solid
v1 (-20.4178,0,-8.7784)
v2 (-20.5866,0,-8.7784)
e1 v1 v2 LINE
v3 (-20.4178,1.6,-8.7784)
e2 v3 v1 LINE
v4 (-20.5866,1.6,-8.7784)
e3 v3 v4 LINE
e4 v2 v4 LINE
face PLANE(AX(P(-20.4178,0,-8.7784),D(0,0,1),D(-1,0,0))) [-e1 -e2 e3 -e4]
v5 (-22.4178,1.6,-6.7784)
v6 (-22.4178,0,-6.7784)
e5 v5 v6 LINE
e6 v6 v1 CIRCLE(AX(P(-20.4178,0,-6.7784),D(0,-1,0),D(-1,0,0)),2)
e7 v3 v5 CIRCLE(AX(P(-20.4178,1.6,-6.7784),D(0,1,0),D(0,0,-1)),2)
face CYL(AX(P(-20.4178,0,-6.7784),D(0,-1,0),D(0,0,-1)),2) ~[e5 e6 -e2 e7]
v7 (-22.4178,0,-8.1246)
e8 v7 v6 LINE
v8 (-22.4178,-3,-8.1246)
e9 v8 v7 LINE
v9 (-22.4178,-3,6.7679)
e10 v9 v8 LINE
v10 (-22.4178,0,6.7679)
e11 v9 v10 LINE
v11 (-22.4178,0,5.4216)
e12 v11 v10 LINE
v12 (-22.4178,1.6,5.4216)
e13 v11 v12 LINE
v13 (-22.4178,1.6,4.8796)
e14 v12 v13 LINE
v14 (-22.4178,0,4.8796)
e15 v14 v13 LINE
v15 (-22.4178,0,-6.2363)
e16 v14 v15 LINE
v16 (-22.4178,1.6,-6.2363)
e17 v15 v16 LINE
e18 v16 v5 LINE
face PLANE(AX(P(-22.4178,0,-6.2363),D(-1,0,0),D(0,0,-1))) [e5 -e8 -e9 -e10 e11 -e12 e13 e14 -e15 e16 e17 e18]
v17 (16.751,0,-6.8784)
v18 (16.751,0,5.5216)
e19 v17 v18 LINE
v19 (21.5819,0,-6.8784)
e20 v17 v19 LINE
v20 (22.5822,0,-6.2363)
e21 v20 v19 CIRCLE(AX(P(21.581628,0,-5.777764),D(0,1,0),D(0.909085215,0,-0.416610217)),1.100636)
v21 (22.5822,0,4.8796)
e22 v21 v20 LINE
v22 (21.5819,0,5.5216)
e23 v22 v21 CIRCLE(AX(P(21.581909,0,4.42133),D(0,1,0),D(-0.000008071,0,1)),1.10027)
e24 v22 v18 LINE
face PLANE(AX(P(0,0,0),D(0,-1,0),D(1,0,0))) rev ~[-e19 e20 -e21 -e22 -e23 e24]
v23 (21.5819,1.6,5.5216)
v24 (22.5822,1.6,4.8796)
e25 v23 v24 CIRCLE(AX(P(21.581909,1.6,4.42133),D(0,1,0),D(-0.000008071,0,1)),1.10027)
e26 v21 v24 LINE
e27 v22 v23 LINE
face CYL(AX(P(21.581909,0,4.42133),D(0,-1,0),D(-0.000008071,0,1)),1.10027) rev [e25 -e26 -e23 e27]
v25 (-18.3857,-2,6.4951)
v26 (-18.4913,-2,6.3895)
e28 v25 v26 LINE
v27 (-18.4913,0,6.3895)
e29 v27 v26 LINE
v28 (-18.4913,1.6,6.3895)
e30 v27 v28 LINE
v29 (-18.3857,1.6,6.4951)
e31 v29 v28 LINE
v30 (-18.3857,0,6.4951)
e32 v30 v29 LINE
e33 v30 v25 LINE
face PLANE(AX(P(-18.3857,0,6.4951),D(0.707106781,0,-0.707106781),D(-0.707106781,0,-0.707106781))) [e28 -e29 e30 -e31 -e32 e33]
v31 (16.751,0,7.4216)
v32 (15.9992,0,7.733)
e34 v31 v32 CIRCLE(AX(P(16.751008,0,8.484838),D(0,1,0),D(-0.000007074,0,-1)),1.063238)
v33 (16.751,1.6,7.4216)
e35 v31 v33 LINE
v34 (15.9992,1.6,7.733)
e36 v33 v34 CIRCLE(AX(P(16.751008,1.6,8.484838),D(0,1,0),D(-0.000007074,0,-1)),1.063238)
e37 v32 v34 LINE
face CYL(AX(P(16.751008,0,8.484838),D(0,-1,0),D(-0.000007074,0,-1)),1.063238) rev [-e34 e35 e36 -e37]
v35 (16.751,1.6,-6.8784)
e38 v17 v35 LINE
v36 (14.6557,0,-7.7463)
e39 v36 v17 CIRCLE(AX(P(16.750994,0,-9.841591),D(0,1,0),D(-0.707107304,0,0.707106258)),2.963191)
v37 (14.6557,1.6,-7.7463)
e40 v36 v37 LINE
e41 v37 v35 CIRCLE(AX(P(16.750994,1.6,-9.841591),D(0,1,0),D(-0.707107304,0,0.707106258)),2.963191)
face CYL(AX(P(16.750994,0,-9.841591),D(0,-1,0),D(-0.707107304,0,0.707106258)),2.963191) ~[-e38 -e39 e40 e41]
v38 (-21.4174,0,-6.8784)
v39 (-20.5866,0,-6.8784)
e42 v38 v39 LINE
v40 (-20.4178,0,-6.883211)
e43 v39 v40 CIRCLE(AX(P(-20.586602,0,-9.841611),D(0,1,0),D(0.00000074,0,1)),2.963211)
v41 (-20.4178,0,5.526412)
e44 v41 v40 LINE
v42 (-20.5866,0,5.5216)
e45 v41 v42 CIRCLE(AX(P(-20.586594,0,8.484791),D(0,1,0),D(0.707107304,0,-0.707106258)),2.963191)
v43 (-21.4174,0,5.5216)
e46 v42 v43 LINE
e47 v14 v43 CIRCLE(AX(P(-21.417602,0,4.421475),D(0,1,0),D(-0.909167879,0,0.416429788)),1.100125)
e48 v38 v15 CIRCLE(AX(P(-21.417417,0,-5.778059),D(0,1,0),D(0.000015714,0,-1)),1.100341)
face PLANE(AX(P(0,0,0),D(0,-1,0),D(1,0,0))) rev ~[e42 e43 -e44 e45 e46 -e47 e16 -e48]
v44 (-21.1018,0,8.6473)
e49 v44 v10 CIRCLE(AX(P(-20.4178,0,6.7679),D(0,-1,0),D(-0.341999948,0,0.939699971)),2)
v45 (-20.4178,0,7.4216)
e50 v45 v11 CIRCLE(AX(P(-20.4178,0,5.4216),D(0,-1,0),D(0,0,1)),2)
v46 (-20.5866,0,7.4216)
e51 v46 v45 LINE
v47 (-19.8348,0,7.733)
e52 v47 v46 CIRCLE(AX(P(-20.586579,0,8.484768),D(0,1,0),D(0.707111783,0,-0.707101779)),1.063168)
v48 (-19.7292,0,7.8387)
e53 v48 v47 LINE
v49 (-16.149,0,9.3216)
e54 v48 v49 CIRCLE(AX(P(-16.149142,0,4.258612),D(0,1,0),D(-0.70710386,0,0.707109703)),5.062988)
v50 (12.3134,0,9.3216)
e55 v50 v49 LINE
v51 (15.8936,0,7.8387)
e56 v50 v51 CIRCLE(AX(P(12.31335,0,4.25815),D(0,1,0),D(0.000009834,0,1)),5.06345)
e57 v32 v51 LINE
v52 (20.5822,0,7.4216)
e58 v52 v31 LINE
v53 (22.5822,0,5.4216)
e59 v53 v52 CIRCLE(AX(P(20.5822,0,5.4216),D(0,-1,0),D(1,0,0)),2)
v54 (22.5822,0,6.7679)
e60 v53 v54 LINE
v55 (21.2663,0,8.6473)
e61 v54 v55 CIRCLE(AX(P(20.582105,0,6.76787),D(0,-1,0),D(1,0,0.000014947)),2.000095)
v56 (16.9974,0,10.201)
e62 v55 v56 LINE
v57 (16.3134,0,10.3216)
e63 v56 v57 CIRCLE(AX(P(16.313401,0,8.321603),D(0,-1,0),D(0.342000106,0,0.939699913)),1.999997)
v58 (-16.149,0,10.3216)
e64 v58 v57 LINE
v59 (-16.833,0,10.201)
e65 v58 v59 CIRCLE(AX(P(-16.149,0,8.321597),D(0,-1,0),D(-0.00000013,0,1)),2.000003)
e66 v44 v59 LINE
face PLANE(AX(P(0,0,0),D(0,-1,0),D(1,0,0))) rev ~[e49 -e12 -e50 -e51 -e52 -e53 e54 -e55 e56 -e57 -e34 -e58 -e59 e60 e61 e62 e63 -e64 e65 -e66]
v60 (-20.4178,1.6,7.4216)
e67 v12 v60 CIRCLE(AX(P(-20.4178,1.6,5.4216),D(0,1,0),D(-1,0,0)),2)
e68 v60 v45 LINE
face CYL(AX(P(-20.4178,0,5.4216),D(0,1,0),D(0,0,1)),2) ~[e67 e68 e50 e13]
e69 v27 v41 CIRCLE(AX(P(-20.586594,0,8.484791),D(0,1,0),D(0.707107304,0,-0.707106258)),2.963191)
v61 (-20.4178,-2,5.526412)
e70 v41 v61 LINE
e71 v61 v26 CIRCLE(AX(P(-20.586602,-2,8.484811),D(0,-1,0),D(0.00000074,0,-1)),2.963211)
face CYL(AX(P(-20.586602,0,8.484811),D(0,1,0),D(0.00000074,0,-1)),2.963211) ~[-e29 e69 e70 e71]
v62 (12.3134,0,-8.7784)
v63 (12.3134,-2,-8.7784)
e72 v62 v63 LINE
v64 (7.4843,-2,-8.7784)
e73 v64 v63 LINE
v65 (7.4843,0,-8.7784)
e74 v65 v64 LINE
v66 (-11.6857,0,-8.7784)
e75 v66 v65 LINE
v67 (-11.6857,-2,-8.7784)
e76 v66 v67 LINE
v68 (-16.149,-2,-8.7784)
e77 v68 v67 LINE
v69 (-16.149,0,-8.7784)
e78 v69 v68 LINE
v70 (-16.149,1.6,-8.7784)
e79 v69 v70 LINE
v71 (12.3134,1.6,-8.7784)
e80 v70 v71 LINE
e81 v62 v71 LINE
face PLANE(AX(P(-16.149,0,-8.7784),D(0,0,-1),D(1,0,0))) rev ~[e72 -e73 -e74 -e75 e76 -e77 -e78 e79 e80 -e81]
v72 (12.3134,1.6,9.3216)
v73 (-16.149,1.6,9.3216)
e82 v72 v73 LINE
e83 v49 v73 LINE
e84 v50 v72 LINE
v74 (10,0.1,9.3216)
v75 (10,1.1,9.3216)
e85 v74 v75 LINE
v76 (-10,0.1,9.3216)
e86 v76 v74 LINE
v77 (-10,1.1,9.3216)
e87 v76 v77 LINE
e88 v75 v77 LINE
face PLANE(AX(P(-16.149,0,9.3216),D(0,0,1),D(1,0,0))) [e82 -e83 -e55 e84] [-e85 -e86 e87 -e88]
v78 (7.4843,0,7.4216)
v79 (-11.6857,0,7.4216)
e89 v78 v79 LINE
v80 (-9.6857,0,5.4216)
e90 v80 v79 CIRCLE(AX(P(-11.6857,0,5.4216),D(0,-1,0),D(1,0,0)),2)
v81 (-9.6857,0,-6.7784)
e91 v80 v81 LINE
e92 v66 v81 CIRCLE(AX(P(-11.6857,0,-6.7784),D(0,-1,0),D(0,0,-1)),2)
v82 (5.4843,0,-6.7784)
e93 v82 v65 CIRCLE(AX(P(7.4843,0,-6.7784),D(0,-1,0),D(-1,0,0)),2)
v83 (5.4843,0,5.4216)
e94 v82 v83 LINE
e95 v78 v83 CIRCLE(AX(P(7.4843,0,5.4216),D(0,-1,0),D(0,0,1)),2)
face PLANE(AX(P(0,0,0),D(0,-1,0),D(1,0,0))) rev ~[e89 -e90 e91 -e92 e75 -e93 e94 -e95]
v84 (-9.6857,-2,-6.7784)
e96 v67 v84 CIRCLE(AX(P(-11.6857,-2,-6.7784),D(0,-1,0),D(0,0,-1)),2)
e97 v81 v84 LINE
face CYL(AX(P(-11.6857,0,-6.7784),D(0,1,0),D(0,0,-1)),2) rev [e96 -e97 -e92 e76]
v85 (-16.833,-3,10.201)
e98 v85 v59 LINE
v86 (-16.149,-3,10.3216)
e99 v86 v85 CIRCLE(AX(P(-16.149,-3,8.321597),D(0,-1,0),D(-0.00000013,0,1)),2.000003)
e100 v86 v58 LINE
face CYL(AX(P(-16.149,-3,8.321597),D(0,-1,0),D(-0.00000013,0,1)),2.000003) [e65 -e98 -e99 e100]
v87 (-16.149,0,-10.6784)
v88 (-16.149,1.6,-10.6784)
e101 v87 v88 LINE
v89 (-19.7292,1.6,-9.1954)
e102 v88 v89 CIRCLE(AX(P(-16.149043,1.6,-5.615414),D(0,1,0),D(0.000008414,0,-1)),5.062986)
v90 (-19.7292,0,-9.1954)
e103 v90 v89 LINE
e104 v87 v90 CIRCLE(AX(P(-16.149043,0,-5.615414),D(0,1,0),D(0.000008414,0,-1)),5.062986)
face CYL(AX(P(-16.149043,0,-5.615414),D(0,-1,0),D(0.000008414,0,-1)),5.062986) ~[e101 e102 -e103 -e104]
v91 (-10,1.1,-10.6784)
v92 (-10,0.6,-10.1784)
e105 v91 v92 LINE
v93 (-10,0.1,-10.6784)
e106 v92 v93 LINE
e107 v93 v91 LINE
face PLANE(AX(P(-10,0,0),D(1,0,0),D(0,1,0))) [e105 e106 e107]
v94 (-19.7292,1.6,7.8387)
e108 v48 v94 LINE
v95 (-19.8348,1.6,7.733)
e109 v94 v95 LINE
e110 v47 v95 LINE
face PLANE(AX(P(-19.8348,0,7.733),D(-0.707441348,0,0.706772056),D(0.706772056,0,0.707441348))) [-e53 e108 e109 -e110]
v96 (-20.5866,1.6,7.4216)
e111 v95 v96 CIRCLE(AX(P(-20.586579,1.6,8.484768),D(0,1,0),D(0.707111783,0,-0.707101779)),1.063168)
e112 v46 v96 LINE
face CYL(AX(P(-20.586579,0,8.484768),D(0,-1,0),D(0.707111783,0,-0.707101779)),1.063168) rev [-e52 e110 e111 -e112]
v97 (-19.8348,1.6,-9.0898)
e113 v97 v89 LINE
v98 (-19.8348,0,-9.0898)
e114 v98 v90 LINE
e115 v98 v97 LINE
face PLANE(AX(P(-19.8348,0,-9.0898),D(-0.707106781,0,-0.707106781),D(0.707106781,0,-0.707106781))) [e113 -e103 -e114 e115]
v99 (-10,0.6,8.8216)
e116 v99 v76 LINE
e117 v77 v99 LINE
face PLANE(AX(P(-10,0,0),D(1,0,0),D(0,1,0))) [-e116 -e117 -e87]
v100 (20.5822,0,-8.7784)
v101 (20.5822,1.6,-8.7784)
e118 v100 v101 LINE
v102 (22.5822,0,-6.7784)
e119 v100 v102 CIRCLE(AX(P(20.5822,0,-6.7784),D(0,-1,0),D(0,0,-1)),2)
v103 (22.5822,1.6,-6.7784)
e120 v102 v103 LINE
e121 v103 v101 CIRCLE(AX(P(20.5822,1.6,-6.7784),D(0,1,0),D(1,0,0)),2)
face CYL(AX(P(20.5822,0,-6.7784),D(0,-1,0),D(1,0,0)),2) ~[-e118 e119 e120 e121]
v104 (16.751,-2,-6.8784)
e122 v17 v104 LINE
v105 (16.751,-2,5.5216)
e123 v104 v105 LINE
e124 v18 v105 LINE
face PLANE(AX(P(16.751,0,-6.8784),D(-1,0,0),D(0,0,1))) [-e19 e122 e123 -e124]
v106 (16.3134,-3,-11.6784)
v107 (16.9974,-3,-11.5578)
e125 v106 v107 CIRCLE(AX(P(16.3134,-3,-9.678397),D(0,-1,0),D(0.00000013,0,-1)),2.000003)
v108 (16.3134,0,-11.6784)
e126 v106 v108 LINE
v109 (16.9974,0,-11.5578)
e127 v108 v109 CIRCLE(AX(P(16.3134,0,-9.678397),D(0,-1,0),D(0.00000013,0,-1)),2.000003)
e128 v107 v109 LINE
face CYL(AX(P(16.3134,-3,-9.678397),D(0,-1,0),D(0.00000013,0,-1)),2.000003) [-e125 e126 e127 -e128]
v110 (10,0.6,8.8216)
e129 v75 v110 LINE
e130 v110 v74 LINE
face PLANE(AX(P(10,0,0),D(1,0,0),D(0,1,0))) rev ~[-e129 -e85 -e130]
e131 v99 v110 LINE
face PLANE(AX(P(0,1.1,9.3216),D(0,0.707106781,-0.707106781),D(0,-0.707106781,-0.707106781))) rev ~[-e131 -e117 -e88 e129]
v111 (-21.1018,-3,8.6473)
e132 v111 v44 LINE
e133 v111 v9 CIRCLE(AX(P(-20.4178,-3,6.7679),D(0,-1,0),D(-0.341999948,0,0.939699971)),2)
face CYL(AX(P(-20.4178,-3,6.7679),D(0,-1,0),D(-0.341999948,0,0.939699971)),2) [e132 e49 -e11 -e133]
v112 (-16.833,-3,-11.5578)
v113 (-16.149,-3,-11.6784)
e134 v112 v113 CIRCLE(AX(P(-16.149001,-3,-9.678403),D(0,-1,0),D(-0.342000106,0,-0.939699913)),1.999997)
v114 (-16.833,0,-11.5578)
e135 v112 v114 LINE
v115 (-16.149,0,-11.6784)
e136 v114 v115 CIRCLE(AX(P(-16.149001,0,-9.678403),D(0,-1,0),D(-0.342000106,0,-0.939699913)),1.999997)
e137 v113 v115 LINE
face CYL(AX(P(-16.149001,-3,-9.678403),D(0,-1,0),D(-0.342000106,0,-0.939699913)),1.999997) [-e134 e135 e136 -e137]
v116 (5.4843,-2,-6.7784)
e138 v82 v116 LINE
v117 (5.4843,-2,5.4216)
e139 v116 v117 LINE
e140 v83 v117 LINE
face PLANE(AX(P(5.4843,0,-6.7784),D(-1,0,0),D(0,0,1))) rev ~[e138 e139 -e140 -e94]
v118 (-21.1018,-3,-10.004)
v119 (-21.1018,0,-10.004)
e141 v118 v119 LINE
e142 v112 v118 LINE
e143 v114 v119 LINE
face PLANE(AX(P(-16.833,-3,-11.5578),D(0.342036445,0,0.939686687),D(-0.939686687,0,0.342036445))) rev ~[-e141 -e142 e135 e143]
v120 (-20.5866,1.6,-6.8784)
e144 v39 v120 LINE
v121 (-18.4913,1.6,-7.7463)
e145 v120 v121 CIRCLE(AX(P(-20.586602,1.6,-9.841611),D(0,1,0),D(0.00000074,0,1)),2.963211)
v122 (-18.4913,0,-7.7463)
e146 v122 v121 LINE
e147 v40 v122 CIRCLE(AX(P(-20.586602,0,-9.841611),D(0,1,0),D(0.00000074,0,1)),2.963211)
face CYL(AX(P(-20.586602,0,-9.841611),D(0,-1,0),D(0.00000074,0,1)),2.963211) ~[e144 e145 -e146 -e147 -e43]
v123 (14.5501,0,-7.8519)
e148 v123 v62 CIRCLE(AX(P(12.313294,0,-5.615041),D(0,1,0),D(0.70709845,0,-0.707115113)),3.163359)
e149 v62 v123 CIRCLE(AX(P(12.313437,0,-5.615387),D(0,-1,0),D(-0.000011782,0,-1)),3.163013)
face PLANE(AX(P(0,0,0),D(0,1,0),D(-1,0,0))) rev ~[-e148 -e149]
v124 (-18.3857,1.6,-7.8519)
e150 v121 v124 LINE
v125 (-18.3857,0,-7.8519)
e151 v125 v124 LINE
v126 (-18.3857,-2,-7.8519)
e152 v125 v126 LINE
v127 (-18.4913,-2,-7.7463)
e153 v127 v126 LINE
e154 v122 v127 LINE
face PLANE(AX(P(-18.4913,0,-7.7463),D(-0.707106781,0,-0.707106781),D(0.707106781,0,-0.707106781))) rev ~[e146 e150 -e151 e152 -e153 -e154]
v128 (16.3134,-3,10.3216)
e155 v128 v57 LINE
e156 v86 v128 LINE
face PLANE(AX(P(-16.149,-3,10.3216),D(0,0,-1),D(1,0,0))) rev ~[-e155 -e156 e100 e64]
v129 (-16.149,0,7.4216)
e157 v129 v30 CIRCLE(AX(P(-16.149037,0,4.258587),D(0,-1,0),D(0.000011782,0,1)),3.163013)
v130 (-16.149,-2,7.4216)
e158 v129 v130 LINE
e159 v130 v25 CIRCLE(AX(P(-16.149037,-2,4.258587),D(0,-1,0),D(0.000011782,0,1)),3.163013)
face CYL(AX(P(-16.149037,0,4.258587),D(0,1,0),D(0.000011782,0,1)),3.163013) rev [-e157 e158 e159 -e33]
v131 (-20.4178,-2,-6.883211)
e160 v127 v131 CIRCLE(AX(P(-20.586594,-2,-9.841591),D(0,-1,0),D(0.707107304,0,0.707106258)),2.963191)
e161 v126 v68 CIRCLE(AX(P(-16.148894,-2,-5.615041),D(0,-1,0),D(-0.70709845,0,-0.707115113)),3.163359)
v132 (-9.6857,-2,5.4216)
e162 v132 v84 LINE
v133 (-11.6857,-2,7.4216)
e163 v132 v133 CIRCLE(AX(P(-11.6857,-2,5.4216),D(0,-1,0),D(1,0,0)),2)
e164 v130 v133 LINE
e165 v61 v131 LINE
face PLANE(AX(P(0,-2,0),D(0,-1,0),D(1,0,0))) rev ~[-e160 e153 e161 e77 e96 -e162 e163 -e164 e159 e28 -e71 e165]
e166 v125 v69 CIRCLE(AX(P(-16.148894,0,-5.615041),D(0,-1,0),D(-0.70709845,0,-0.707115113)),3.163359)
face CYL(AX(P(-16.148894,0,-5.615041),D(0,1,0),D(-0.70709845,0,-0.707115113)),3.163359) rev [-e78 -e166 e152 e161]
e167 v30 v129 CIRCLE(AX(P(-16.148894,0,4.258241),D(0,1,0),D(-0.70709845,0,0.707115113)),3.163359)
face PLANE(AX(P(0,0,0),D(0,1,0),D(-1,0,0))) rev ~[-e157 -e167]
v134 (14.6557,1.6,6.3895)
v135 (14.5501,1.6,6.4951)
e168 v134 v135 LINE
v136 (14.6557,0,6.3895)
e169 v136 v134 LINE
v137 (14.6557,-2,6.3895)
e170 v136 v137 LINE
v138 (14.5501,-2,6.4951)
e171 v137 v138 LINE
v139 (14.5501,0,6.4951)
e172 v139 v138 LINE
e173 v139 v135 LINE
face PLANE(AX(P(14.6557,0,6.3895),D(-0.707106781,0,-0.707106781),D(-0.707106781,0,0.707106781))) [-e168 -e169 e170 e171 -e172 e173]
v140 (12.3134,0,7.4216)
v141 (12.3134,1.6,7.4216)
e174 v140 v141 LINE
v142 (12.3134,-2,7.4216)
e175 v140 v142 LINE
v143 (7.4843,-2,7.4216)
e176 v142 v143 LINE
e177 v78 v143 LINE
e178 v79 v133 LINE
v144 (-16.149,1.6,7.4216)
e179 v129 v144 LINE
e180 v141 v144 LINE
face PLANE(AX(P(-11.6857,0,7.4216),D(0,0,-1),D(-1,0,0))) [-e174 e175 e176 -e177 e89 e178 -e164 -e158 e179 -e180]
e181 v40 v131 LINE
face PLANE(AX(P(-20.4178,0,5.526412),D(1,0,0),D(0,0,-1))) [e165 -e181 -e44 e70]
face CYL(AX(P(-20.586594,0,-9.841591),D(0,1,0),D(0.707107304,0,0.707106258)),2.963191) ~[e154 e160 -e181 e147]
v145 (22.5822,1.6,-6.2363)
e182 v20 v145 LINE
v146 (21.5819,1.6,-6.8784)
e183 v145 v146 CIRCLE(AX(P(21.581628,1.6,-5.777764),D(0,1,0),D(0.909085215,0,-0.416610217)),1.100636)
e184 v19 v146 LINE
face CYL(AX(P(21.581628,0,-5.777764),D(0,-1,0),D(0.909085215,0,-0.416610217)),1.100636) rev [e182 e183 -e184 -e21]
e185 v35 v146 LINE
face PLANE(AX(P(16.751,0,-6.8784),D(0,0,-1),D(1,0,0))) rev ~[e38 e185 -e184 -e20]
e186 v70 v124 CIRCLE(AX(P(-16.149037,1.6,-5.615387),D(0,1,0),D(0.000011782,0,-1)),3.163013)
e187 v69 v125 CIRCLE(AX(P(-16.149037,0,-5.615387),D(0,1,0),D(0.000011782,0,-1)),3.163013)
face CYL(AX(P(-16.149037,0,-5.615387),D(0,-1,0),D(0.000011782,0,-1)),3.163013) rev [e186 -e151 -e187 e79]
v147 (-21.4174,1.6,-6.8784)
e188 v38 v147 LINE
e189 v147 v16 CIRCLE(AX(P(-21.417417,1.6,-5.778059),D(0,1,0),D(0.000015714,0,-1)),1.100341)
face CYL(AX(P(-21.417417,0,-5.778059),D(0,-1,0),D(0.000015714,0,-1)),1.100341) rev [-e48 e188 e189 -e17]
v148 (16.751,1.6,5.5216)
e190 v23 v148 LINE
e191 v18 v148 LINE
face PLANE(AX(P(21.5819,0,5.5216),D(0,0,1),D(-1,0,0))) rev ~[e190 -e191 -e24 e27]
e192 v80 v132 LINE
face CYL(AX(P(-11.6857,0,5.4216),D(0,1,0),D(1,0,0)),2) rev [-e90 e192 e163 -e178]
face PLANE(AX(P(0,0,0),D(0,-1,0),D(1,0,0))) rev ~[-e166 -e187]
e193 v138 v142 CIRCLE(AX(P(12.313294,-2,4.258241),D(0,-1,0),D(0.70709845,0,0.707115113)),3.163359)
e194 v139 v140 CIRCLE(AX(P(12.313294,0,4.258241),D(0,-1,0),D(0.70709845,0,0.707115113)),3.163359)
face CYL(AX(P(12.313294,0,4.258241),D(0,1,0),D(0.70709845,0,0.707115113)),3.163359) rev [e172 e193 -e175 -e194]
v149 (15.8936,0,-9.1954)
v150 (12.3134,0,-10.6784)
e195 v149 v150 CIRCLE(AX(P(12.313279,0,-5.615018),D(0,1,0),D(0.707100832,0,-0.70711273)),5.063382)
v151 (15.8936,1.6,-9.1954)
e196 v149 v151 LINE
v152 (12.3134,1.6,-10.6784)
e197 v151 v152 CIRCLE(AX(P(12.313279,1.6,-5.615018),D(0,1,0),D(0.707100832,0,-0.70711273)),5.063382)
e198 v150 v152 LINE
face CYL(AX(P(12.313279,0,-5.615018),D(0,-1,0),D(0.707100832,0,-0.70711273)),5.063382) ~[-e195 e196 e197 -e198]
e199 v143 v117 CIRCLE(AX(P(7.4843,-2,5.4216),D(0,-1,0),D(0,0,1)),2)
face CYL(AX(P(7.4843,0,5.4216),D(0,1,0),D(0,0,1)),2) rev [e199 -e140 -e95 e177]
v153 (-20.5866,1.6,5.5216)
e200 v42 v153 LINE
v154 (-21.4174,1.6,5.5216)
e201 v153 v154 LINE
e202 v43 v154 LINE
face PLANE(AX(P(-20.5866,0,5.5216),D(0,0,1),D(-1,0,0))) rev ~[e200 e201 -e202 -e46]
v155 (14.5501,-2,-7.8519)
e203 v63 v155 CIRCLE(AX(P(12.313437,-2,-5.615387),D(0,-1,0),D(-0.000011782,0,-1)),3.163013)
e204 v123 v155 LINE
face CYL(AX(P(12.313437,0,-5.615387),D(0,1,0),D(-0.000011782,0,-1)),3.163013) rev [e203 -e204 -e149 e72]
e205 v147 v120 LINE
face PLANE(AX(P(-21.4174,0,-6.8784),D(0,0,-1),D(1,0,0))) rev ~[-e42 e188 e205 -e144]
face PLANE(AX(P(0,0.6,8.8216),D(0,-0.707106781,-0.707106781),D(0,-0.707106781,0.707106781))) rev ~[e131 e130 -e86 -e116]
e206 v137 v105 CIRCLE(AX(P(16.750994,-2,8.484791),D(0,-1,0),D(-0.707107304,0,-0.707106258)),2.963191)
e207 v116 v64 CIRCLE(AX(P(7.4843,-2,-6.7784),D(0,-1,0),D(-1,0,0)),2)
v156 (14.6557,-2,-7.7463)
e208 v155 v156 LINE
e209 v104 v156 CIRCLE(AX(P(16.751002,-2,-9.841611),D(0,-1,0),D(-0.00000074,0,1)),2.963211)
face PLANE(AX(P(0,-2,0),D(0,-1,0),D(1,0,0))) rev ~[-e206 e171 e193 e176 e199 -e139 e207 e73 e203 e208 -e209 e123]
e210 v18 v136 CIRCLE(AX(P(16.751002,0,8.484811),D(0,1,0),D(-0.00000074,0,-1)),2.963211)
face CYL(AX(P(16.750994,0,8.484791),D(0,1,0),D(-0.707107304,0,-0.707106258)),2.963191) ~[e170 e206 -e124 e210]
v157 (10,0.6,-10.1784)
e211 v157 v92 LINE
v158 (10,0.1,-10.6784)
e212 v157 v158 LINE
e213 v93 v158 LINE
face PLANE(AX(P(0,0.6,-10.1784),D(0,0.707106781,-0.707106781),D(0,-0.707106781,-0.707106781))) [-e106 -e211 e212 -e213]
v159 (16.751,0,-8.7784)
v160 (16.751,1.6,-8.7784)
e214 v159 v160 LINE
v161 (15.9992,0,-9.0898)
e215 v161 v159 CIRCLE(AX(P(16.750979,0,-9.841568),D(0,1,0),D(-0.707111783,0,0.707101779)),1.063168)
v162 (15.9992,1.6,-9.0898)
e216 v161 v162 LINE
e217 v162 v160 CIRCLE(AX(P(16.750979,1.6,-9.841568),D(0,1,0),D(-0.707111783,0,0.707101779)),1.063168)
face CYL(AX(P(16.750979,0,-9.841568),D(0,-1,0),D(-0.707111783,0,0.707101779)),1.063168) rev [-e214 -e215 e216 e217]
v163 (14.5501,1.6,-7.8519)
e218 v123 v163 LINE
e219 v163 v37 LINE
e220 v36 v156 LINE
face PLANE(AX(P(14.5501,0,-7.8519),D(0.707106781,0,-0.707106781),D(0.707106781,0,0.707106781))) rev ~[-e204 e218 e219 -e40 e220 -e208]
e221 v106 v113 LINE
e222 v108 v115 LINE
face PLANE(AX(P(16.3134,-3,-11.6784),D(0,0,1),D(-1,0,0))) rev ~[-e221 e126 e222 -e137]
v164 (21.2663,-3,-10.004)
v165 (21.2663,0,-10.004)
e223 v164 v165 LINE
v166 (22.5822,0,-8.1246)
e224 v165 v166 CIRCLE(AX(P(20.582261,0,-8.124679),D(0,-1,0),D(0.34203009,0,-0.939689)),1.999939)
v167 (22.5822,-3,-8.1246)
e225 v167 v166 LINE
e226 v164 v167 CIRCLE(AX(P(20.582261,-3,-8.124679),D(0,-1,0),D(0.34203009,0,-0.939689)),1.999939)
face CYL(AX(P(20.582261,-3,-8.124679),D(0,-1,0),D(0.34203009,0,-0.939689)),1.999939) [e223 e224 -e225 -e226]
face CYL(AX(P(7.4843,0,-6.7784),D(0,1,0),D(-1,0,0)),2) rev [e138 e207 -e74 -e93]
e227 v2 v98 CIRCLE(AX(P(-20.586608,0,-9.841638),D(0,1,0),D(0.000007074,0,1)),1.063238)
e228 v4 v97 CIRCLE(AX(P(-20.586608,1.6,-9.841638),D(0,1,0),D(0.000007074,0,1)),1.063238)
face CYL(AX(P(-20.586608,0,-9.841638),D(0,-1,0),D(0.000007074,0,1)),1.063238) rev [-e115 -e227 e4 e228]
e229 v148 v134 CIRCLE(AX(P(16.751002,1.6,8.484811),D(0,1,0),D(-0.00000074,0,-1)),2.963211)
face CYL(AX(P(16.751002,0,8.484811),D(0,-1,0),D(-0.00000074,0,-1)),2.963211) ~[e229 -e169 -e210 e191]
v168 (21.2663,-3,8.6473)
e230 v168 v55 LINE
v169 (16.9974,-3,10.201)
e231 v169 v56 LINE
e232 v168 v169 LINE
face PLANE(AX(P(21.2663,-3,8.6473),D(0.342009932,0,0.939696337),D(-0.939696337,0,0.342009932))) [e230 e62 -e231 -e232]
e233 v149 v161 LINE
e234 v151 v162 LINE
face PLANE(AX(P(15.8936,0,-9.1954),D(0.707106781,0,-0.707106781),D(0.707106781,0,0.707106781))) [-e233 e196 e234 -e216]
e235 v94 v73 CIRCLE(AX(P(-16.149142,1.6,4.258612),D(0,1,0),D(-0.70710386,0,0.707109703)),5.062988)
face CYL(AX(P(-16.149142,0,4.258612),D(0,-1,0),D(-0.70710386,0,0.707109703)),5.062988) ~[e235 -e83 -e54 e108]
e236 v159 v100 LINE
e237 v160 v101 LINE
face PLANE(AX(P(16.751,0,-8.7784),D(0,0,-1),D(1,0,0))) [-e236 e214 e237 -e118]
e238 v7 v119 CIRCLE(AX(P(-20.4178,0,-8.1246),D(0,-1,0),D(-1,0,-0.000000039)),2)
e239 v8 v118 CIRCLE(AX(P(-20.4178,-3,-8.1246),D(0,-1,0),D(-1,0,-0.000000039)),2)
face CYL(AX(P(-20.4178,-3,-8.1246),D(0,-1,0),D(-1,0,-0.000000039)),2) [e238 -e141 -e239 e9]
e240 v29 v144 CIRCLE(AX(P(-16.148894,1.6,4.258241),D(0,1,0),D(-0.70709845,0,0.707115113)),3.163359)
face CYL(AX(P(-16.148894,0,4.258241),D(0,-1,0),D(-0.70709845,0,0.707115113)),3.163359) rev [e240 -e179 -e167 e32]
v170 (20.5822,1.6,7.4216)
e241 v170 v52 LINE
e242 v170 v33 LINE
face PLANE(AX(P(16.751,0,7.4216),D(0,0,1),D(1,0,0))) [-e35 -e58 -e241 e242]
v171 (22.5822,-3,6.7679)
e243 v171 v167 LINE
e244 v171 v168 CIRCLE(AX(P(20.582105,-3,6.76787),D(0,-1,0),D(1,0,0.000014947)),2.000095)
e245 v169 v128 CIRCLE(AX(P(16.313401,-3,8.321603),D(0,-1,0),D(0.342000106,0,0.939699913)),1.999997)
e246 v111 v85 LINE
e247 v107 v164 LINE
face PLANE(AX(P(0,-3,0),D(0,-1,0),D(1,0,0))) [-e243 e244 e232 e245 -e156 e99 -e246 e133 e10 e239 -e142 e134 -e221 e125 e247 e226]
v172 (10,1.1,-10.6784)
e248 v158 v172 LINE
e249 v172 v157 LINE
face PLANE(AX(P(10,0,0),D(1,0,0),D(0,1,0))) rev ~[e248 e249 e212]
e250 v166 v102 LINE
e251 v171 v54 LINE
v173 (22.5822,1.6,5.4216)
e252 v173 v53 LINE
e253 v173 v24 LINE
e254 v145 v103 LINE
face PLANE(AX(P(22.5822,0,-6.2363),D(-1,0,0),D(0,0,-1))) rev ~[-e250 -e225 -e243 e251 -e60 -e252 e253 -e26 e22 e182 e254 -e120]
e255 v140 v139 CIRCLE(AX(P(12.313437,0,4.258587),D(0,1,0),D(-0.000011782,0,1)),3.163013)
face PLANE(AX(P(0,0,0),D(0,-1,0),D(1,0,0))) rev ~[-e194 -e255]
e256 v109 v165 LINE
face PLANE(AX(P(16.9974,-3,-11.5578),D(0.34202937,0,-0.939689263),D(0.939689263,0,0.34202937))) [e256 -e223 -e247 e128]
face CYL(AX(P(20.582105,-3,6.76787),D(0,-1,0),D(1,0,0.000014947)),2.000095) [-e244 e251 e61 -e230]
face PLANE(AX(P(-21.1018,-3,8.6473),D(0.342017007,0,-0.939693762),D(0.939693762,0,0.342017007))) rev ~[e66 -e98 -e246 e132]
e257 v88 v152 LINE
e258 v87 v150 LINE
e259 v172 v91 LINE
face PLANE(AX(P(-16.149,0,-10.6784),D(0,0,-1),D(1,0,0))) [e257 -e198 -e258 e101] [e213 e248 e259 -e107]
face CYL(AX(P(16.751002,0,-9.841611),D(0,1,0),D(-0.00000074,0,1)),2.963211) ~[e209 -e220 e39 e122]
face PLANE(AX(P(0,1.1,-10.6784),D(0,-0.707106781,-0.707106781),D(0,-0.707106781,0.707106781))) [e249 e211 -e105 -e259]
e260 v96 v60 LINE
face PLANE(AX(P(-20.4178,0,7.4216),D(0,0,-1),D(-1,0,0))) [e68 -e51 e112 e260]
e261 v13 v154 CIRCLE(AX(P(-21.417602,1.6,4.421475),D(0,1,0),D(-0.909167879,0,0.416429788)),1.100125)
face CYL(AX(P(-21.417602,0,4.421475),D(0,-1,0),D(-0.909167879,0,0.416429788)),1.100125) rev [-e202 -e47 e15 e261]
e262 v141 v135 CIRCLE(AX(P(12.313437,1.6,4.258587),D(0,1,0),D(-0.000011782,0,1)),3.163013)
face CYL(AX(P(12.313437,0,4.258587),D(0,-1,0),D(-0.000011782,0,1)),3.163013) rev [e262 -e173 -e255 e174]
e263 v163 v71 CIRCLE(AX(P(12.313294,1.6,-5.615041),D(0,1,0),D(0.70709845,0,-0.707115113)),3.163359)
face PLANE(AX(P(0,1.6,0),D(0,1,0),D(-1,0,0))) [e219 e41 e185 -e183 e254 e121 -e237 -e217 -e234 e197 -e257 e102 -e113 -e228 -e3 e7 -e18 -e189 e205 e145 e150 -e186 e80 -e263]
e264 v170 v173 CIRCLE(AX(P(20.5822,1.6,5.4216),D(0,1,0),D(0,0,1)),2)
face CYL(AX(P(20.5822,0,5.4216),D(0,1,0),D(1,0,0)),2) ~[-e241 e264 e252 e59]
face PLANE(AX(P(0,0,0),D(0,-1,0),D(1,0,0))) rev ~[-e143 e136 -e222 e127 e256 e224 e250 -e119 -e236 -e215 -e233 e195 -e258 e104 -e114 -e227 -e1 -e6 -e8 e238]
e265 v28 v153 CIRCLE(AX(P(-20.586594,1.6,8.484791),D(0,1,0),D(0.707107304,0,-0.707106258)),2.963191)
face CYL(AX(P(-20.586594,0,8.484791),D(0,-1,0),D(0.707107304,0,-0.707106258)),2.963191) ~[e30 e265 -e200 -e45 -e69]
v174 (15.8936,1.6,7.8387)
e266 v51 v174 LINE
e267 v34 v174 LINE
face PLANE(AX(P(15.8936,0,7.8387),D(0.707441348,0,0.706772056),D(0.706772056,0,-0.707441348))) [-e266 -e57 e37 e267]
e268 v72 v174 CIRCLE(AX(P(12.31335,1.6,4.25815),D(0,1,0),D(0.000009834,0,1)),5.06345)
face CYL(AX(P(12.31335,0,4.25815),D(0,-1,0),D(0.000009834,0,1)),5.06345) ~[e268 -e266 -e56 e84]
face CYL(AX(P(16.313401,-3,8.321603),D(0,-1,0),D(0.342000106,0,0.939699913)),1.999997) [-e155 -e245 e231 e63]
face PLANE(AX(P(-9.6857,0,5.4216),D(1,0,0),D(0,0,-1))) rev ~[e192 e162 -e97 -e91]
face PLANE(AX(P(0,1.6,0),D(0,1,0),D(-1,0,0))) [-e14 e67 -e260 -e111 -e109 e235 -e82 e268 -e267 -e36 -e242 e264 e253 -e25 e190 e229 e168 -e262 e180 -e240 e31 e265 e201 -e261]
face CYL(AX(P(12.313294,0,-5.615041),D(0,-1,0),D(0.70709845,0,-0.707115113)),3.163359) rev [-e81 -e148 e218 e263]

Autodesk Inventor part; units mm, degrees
ref_plane "YZ Plane" through (0, 0, 0) normal (1, 0, 0) x (0, 1, 0)
ref_plane "XZ Plane" through (0, 0, 0) normal (0, 1, 0) x (-1, 0, 0)
ref_plane "XY Plane" through (0, 0, 0) normal (0, 0, 1) x (1, 0, 0)
sketch "Sketch1" plane through (0, 0, 0) normal (0, 1, 0) x (-1, 0, 0)
  line L0 (-21.5822, -6.7784) -> (-16.7522, -6.7784)
  arc A0 (-14.5842, -7.6764) -> (-16.7522, -6.7784) centre (-16.751, -9.8416) ccw
  line L1 (-14.5842, -7.6764) -> (-14.4802, -7.7804)
  arc A1 (-14.4802, -7.7804) -> (-12.3122, -8.6784) centre (-12.3134, -5.6152) ccw
  line L2 (-12.3122, -8.6784) -> (16.1478, -8.6784)
  arc A2 (16.1478, -8.6784) -> (18.3158, -7.7804) centre (16.149, -5.6152) ccw
  line L3 (18.3158, -7.7804) -> (18.4198, -7.6764)
  arc A3 (20.5878, -6.7784) -> (18.4198, -7.6764) centre (20.5866, -9.8416) ccw
  line L4 (20.5878, -6.7784) -> (21.4178, -6.7784)
  arc A4 (21.4178, -6.7784) -> (22.4178, -5.7784) centre (21.4174, -5.778) ccw
  line L5 (22.4178, -5.7784) -> (22.4178, 4.4216)
  arc A5 (22.4178, 4.4216) -> (21.4178, 5.4216) centre (21.4174, 4.4213) ccw
  line L6 (21.4178, 5.4216) -> (20.5878, 5.4216)
  arc A6 (18.4198, 6.3196) -> (20.5878, 5.4216) centre (20.5866, 8.4848) ccw
  line L7 (18.4198, 6.3196) -> (18.3158, 6.4236)
  arc A7 (18.3158, 6.4236) -> (16.1478, 7.3216) centre (16.149, 4.2584) ccw
  line L8 (16.1478, 7.3216) -> (-12.3122, 7.3216)
  arc A8 (-12.3122, 7.3216) -> (-14.4802, 6.4236) centre (-12.3134, 4.2584) ccw
  line L9 (-14.4802, 6.4236) -> (-14.5842, 6.3196)
  arc A9 (-16.7522, 5.4216) -> (-14.5842, 6.3196) centre (-16.751, 8.4848) ccw
  line L10 (-16.7522, 5.4216) -> (-21.5822, 5.4216)
  arc A10 (-21.5822, 5.4216) -> (-22.5822, 4.4216) centre (-21.5819, 4.4213) ccw
  line L11 (-22.5822, 4.4216) -> (-22.5822, -5.7784)
  arc A11 (-22.5822, -5.7784) -> (-21.5822, -6.7784) centre (-21.5819, -5.778) ccw
  line L12 (19.8348, -9.0898) -> (19.7292, -9.1954)
  arc A12 (16.149, -10.6784) -> (19.7292, -9.1954) centre (16.149, -5.6152) ccw
  line L13 (16.149, -10.6784) -> (-12.3134, -10.6784)
  arc A13 (-15.8936, -9.1954) -> (-12.3134, -10.6784) centre (-12.3134, -5.6152) ccw
  line L14 (-15.8936, -9.1954) -> (-15.9992, -9.0898)
  arc A14 (-15.9992, -9.0898) -> (-16.751, -8.7784) centre (-16.751, -9.8416) ccw
  line L15 (-16.751, -8.7784) -> (-20.5822, -8.7784)
  line L16 (-20.5822, 7.4216) -> (-16.751, 7.4216)
  arc A15 (-16.751, 7.4216) -> (-15.9992, 7.733) centre (-16.751, 8.4848) ccw
  line L17 (-15.9992, 7.733) -> (-15.8936, 7.8387)
  arc A16 (-12.3134, 9.3216) -> (-15.8936, 7.8387) centre (-12.3134, 4.2584) ccw
  line L18 (-12.3134, 9.3216) -> (16.149, 9.3216)
  arc A17 (19.7292, 7.8387) -> (16.149, 9.3216) centre (16.149, 4.2584) ccw
  line L19 (19.7292, 7.8387) -> (19.8348, 7.733)
  arc A18 (19.8348, 7.733) -> (20.5866, 7.4216) centre (20.5866, 8.4848) ccw
  line L20 (20.5866, 7.4216) -> (20.4178, 7.4216)
  line L21 (20.4178, -8.7784) -> (20.5866, -8.7784)
  arc A19 (20.5866, -8.7784) -> (19.8348, -9.0898) centre (20.5866, -9.8416) ccw
  line L22 (22.4178, 5.4216) -> (22.4178, -6.7784)
  arc A20 (20.4178, -8.7784) -> (22.4178, -6.7784) centre (20.4178, -6.7784) ccw
  arc A21 (22.4178, 5.4216) -> (20.4178, 7.4216) centre (20.4178, 5.4216) ccw
  line L23 (-22.5822, 5.4216) -> (-22.5822, -6.7784)
  arc A22 (-22.5822, -6.7784) -> (-20.5822, -8.7784) centre (-20.5822, -6.7784) ccw
  arc A23 (-20.5822, 7.4216) -> (-22.5822, 5.4216) centre (-20.5822, 5.4216) ccw
  line L24 (16.149, -8.7784) -> (-12.3134, -8.7784)
  arc A24 (-14.5501, -7.8519) -> (-12.3134, -8.7784) centre (-12.3134, -5.6152) ccw
  line L25 (-14.5501, -7.8519) -> (-14.6557, -7.7463)
  arc A25 (-14.6557, -7.7463) -> (-16.751, -6.8784) centre (-16.751, -9.8416) ccw
  line L26 (-16.751, -6.8784) -> (-21.5819, -6.8784)
  arc A26 (-22.5822, -6.2363) -> (-21.5819, -6.8784) centre (-21.5819, -5.778) ccw
  arc A27 (-21.5819, 5.5216) -> (-22.5822, 4.8796) centre (-21.5819, 4.4213) ccw
  line L27 (-21.5819, 5.5216) -> (-16.751, 5.5216)
  arc A28 (-16.751, 5.5216) -> (-14.6557, 6.3895) centre (-16.751, 8.4848) ccw
  line L28 (-14.6557, 6.3895) -> (-14.5501, 6.4951)
  arc A29 (-12.3134, 7.4216) -> (-14.5501, 6.4951) centre (-12.3134, 4.2584) ccw
  line L29 (-12.3134, 7.4216) -> (16.149, 7.4216)
  arc A30 (18.3857, 6.4951) -> (16.149, 7.4216) centre (16.149, 4.2584) ccw
  line L30 (18.3857, 6.4951) -> (18.4913, 6.3895)
  arc A31 (18.4913, 6.3895) -> (20.5866, 5.5216) centre (20.5866, 8.4848) ccw
  line L31 (20.5866, 5.5216) -> (21.4174, 5.5216)
  arc A32 (22.4178, 4.8796) -> (21.4174, 5.5216) centre (21.4174, 4.4213) ccw
  arc A33 (21.4174, -6.8784) -> (22.4178, -6.2363) centre (21.4174, -5.778) ccw
  line L32 (21.4174, -6.8784) -> (20.5866, -6.8784)
  arc A34 (20.5866, -6.8784) -> (18.4913, -7.7463) centre (20.5866, -9.8416) ccw
  line L33 (18.4913, -7.7463) -> (18.3857, -7.8519)
  arc A35 (16.149, -8.7784) -> (18.3857, -7.8519) centre (16.149, -5.6152) ccw
  point P0 (-22.5822, -0.6784)
  point P1 (-22.5822, 4.4218)
  point P2 (22.4178, 4.4219)
  point P3 (22.4178, -5.7786)
  point P4 (-22.5822, -5.7785)
  dimension "d0" = 2
  dimension "d1" = 2
  dimension "d2" = 2
  dimension "d15" = 2
  dimension "d34" = 0.1
extrude "Extrusion1" add sketch "Sketch1" along normal blind 1.6 contours A26 L26 A25 L25 A24 L24 A35 L33 A34 L32 A33 L22 A20 L21 A19 L12 A12 L13 A13 L14 A14 L15 A22 L23 | L23 A23 L16 A15 L17 A16 L18 A17 L19 A18 L20 A21 L22 A32 L31 A31 L30 A30 L29 A29 L28 A28 L27 A27
sketch "Sketch2" plane through (0, 0, 0) normal (0, -1, 0) x (1, 0, 0)
  arc A0 (-22.4178, -6.7784) -> (-20.4178, -8.7784) centre (-20.4178, -6.7784) ccw projected
  line L0 (-22.4178, 4.8796) -> (-22.4178, -6.5074)
  line L1 (-20.4178, 7.4216) -> (-20.4178, -8.7784)
  arc A1 (22.5822, 5.4216) -> (20.5822, 7.4216) centre (20.5822, 5.4216) ccw projected
  arc A2 (20.5822, -8.7784) -> (22.5822, -6.7784) centre (20.5822, -6.7784) ccw projected
  line L2 (22.5822, 4.8796) -> (22.5822, -6.2363)
  line L3 (20.5822, -8.7784) -> (16.751, -8.7784) projected
  line L4 (16.751, 7.4216) -> (20.5822, 7.4216) projected
  line L5 (16.751, -8.7784) -> (16.751, 7.4216)
  line L6 (14.0619, 6.4196) -> (13.9579, 6.5236) construction
  arc A3 (13.9579, 6.5236) -> (11.7911, 7.4216) centre (11.7911, 4.3584) ccw construction
  line L7 (11.7911, 7.4216) -> (7.4843, 7.4216) construction
  line L8 (-18.6464, -8.3237) -> (-18.5319, -8.416) construction
  arc A4 (-18.5319, -8.416) -> (-17.9889, -8.7784) centre (-16.2569, -5.5955) ccw construction
  line L9 (-17.9889, -8.7784) -> (-11.6857, -8.7784) construction
  arc A5 (10.5359, -8.7784) -> (13.4025, -7.9533) centre (11.2292, -5.7946) ccw construction
  line L10 (13.4025, -7.9533) -> (13.5062, -7.849) construction
  circle A6 centre (12.1943, 5.3613) radius 1.15 construction
  circle A7 centre (7.4843, 0.5913) radius 0.5 construction
  circle A8 centre (9.4843, 0.5913) radius 0.5 construction
  circle A9 centre (9.4843, -1.9087) radius 0.5 construction
  circle A10 centre (12.1943, -6.6787) radius 1.15 construction
  circle A11 centre (7.4843, -1.9087) radius 0.5 construction
  circle A12 centre (-11.6857, -3.2087) radius 0.45 construction
  circle A13 centre (-11.6857, 0.8713) radius 0.45 construction
  circle A14 centre (-16.5257, 5.3413) radius 1.2 construction
  circle A15 centre (-14.2257, 1.8913) radius 0.45 construction
  circle A16 centre (-14.2257, -0.1487) radius 0.45 construction
  circle A17 centre (-11.6857, -1.1687) radius 0.45 construction
  circle A18 centre (-14.2257, -2.1887) radius 0.45 construction
  circle A19 centre (-16.5257, -6.6587) radius 1.2 construction
  line L11 (-9.6857, 5.4216) -> (-9.6857, -6.7784)
  line L12 (5.4843, -6.7784) -> (5.4843, 5.4216)
  arc A20 (7.4843, 7.4216) -> (5.4843, 5.4216) centre (7.4843, 5.4216) ccw
  arc A21 (-11.6857, -8.7784) -> (-9.6857, -6.7784) centre (-11.6857, -6.7784) ccw
  line L13 (7.4843, -8.7784) -> (6.6499, -8.7784)
  arc A22 (5.4843, -6.7784) -> (7.4843, -8.7784) centre (7.4843, -6.7784) ccw
  line L14 (-11.6857, 7.4216) -> (-12.246, 7.4216)
  arc A23 (-9.6857, 5.4216) -> (-11.6857, 7.4216) centre (-11.6857, 5.4216) ccw
  line L15 (-12.246, 7.4216) -> (7.4843, 7.4216)
  line L16 (12.3134, 7.4216) -> (-16.149, 7.4216) projected
  line L17 (-16.149, -8.7784) -> (12.3134, -8.7784) projected
  line L18 (-22.4178, -6.7784) -> (-22.4178, -6.2363) projected
  line L19 (16.751, -6.8784) -> (21.5819, -6.8784) projected
  arc A24 (21.5819, -6.8784) -> (22.5822, -6.2363) centre (21.5819, -5.778) ccw projected
  arc A25 (22.5822, 4.8796) -> (21.5819, 5.5216) centre (21.5819, 4.4213) ccw projected
  line L20 (21.5819, 5.5216) -> (16.751, 5.5216) projected
  line L21 (-20.5866, 5.5216) -> (-21.4174, 5.5216) projected
  arc A26 (-20.5866, 5.5216) -> (-18.4913, 6.3895) centre (-20.5866, 8.4848) ccw projected
  arc A27 (-21.4174, 5.5216) -> (-22.4178, 4.8796) centre (-21.4174, 4.4213) ccw projected
  line L22 (-21.4174, -6.8784) -> (-20.5866, -6.8784) projected
  arc A28 (-22.4178, -6.2363) -> (-21.4174, -6.8784) centre (-21.4174, -5.778) ccw projected
  arc A29 (-18.4913, -7.7463) -> (-20.5866, -6.8784) centre (-20.5866, -9.8416) ccw projected
  line L23 (22.5822, 5.4216) -> (22.5822, 4.8796) projected
  arc A30 (22.5822, 5.4216) -> (20.5822, 7.4216) centre (20.5822, 5.4216) ccw projected
  line L24 (16.751, 7.4216) -> (20.5822, 7.4216) projected
  arc A31 (15.9992, 7.733) -> (16.751, 7.4216) centre (16.751, 8.4848) ccw projected
  line L25 (15.8936, 7.8387) -> (15.9992, 7.733) projected
  arc A32 (15.8936, 7.8387) -> (12.3134, 9.3216) centre (12.3134, 4.2584) ccw projected
  line L26 (-16.149, 9.3216) -> (12.3134, 9.3216) projected
  arc A33 (-16.149, 9.3216) -> (-19.7292, 7.8387) centre (-16.149, 4.2584) ccw projected
  line L27 (-19.8348, 7.733) -> (-19.7292, 7.8387) projected
  arc A34 (-20.5866, 7.4216) -> (-19.8348, 7.733) centre (-20.5866, 8.4848) ccw projected
  line L28 (-20.4178, 7.4216) -> (-20.5866, 7.4216) projected
  arc A35 (-20.4178, 7.4216) -> (-22.4178, 5.4216) centre (-20.4178, 5.4216) ccw projected
  line L29 (-22.4178, 4.8796) -> (-22.4178, 5.4216) projected
  arc A36 (-21.4174, 5.5216) -> (-22.4178, 4.8796) centre (-21.4174, 4.4213) ccw projected
  line L30 (-20.5866, 5.5216) -> (-21.4174, 5.5216) projected
  arc A37 (-20.5866, 5.5216) -> (-18.4913, 6.3895) centre (-20.5866, 8.4848) ccw projected
  line L31 (-18.3857, 6.4951) -> (-18.4913, 6.3895) projected
  arc A38 (-16.149, 7.4216) -> (-18.3857, 6.4951) centre (-16.149, 4.2584) ccw projected
  line L32 (12.3134, 7.4216) -> (-16.149, 7.4216) projected
  arc A39 (14.5501, 6.4951) -> (12.3134, 7.4216) centre (12.3134, 4.2584) ccw projected
  line L33 (14.6557, 6.3895) -> (14.5501, 6.4951) projected
  arc A40 (14.6557, 6.3895) -> (16.751, 5.5216) centre (16.751, 8.4848) ccw projected
  line L34 (21.5819, 5.5216) -> (16.751, 5.5216) projected
  arc A41 (22.5822, 4.8796) -> (21.5819, 5.5216) centre (21.5819, 4.4213) ccw projected
  line L35 (20.5822, -8.7784) -> (16.751, -8.7784) projected
  arc A42 (20.5822, -8.7784) -> (22.5822, -6.7784) centre (20.5822, -6.7784) ccw projected
  line L36 (22.5822, -6.2363) -> (22.5822, -6.7784) projected
  arc A43 (21.5819, -6.8784) -> (22.5822, -6.2363) centre (21.5819, -5.778) ccw projected
  line L37 (16.751, -6.8784) -> (21.5819, -6.8784) projected
  arc A44 (16.751, -6.8784) -> (14.6557, -7.7463) centre (16.751, -9.8416) ccw projected
  line L38 (14.5501, -7.8519) -> (14.6557, -7.7463) projected
  arc A45 (12.3134, -8.7784) -> (14.5501, -7.8519) centre (12.3134, -5.6152) ccw projected
  line L39 (-16.149, -8.7784) -> (12.3134, -8.7784) projected
  arc A46 (-18.3857, -7.8519) -> (-16.149, -8.7784) centre (-16.149, -5.6152) ccw projected
  line L40 (-18.4913, -7.7463) -> (-18.3857, -7.8519) projected
  arc A47 (-18.4913, -7.7463) -> (-20.5866, -6.8784) centre (-20.5866, -9.8416) ccw projected
  line L41 (-21.4174, -6.8784) -> (-20.5866, -6.8784) projected
  arc A48 (-22.4178, -6.2363) -> (-21.4174, -6.8784) centre (-21.4174, -5.778) ccw projected
  line L42 (-22.4178, -6.7784) -> (-22.4178, -6.2363) projected
  arc A49 (-22.4178, -6.7784) -> (-20.4178, -8.7784) centre (-20.4178, -6.7784) ccw projected
  line L43 (-20.5866, -8.7784) -> (-20.4178, -8.7784) projected
  arc A50 (-19.8348, -9.0898) -> (-20.5866, -8.7784) centre (-20.5866, -9.8416) ccw projected
  line L44 (-19.7292, -9.1954) -> (-19.8348, -9.0898) projected
  arc A51 (-19.7292, -9.1954) -> (-16.149, -10.6784) centre (-16.149, -5.6152) ccw projected
  line L45 (12.3134, -10.6784) -> (-16.149, -10.6784) projected
  arc A52 (12.3134, -10.6784) -> (15.8936, -9.1954) centre (12.3134, -5.6152) ccw projected
  line L46 (15.9992, -9.0898) -> (15.8936, -9.1954) projected
  arc A53 (16.751, -8.7784) -> (15.9992, -9.0898) centre (16.751, -9.8416) ccw projected
  point P0 (0, 0)
  point P1 (-9.6857, 7.4216)
  point P2 (5.4843, -10.0483)
  point P3 (5.4843, 5.9259)
  point P4 (-2.3809, 7.4216)
  point P5 (-2.1007, -8.6784)
  point P6 (-20.4178, -6.8832)
  point P7 (-20.4178, 5.5264)
  point P8 (-18.4913, 6.3895)
  point P9 (22.5822, 4.8796)
  point P10 (22.5822, 5.4216)
  point P11 (-18.4913, -7.7463)
  point P12 (-20.4178, -8.7784)
  point P13 (22.5822, -6.2363)
  dimension "d6" = 2
  dimension "d7" = 2
  dimension "d8" = 2
  dimension "d9" = 2
  dimension "d10" = 2
extrude "Extrusion2" add sketch "Sketch2" along normal blind 2 contours L18 L0 A28 L22 A29 L1 A0 | L1 A29 L40 A46 L17 L13 A45 L38 A44 L5 A53 L46 A52 L45 A51 L44 A50 L43 | A29 L22 A28 L0 A27 L21 A26 L1 | A26 L21 A27 L29 A35 L1 | L1 L28 A34 L27 A33 L26 A32 L25 A31 L5 A40 L33 A39 L16 L15 L14 A38 L31 A26 | A21 L11 A23 L15 A20 L12 A22 L13 L17 | L5 L19 A24 L36 A2 L3 | L5 L20 A25 L2 A24 L19 | L5 L4 A1 L23 A25 L20
sketch "Sketch3" plane through (0, -2, 0) normal (0, -1, 0) x (1, 0, 0)
  arc A0 (-22.4178, -6.7784) -> (-20.4178, -8.7784) centre (-20.4178, -6.7784) ccw projected
  line L0 (-20.4178, -6.8832) -> (-20.4178, 5.5264) projected
  arc A1 (-20.4178, 5.5264) -> (-18.4913, 6.3895) centre (-20.5866, 8.4848) ccw projected
  line L1 (-20.4178, -8.7784) -> (-20.5866, -8.7784) projected
  arc A2 (-19.8348, -9.0898) -> (-20.5866, -8.7784) centre (-20.5866, -9.8416) ccw projected
  line L2 (-19.8348, -9.0898) -> (-19.7292, -9.1954) projected
  arc A3 (-19.7292, -9.1954) -> (-16.149, -10.6784) centre (-16.149, -5.6152) ccw projected
  line L3 (-16.149, -10.6784) -> (12.3134, -10.6784) projected
  arc A4 (12.3134, -10.6784) -> (15.8936, -9.1954) centre (12.3134, -5.6152) ccw projected
  line L4 (15.8936, -9.1954) -> (15.9992, -9.0898) projected
  arc A5 (16.751, -8.7784) -> (15.9992, -9.0898) centre (16.751, -9.8416) ccw projected
  line L5 (16.751, -8.7784) -> (20.5822, -8.7784) projected
  arc A6 (20.5822, -8.7784) -> (22.5822, -6.7784) centre (20.5822, -6.7784) ccw projected
  line L6 (22.5822, -6.7784) -> (22.5822, 5.4216) projected
  arc A7 (22.5822, 5.4216) -> (20.5822, 7.4216) centre (20.5822, 5.4216) ccw projected
  line L7 (20.5822, 7.4216) -> (16.751, 7.4216) projected
  arc A8 (15.9992, 7.733) -> (16.751, 7.4216) centre (16.751, 8.4848) ccw projected
  line L8 (15.9992, 7.733) -> (15.8936, 7.8387) projected
  arc A9 (15.8936, 7.8387) -> (12.3134, 9.3216) centre (12.3134, 4.2584) ccw projected
  line L9 (12.3134, 9.3216) -> (-16.149, 9.3216) projected
  arc A10 (-16.149, 9.3216) -> (-19.7292, 7.8387) centre (-16.149, 4.2584) ccw projected
  line L10 (-19.7292, 7.8387) -> (-19.8348, 7.733) projected
  arc A11 (-20.5866, 7.4216) -> (-19.8348, 7.733) centre (-20.5866, 8.4848) ccw projected
  line L11 (-20.5866, 7.4216) -> (-20.4178, 7.4216) projected
  arc A12 (-20.4178, 7.4216) -> (-22.4178, 5.4216) centre (-20.4178, 5.4216) ccw projected
  line L12 (-22.4178, 5.4216) -> (-22.4178, -6.7784) projected
  line L13 (-11.6857, -8.7784) -> (-16.149, -8.7784) projected
  arc A13 (-18.3857, -7.8519) -> (-16.149, -8.7784) centre (-16.149, -5.6152) ccw projected
  line L14 (-18.3857, -7.8519) -> (-18.4913, -7.7463) projected
  arc A14 (-18.4913, -7.7463) -> (-20.4178, -6.8832) centre (-20.5866, -9.8416) ccw projected
  line L15 (-18.4913, 6.3895) -> (-18.3857, 6.4951) projected
  arc A15 (-16.149, 7.4216) -> (-18.3857, 6.4951) centre (-16.149, 4.2584) ccw projected
  line L16 (-16.149, 7.4216) -> (-11.6857, 7.4216) projected
  arc A16 (-9.6857, 5.4216) -> (-11.6857, 7.4216) centre (-11.6857, 5.4216) ccw projected
  line L17 (-9.6857, 5.4216) -> (-9.6857, -6.7784) projected
  arc A17 (-11.6857, -8.7784) -> (-9.6857, -6.7784) centre (-11.6857, -6.7784) ccw projected
  point P0 (0, 0)
extrude "Extrusion3" add sketch "Sketch3" along normal blind 1 contours L12 A12 L11 A11 L10 A10 L9 A9 L8 A8 L7 A7 L6 A6 L5 A5 L4 A4 L3 A3 L2 A2 L1 A0 | L0 A1 L15 A15 L16 A16 L17 A17 L13 A13 L14 A14
sketch "Sketch4" plane through (0, -3, 0) normal (0, -1, 0) x (1, 0, 0)
  arc A0 (-22.4178, -6.7784) -> (-20.4178, -8.7784) centre (-20.4178, -6.7784) ccw projected
  line L0 (-16.149, 10.3216) -> (16.3134, 10.3216)
  line L1 (16.3134, -11.6784) -> (-16.149, -11.6784)
  line L2 (22.5822, -8.1246) -> (22.5822, 6.7679)
  line L3 (-22.4178, 5.4216) -> (-22.4178, -6.7784)
  arc A1 (21.2663, -10.004) -> (22.5822, -8.1246) centre (20.5822, -8.1246) ccw
  arc A2 (22.5822, 6.7679) -> (21.2663, 8.6473) centre (20.5822, 6.7679) ccw
  line L4 (-22.4178, -8.1246) -> (-22.4178, 6.7679)
  line L5 (-21.1018, 8.6473) -> (-16.833, 10.201)
  line L6 (-16.833, -11.5578) -> (-21.1018, -10.004)
  arc A3 (-21.1018, 8.6473) -> (-22.4178, 6.7679) centre (-20.4178, 6.7679) ccw
  arc A4 (-16.149, 10.3216) -> (-16.833, 10.201) centre (-16.149, 8.3216) ccw
  arc A5 (-16.833, -11.5578) -> (-16.149, -11.6784) centre (-16.149, -9.6784) ccw
  arc A6 (-22.4178, -8.1246) -> (-21.1018, -10.004) centre (-20.4178, -8.1246) ccw
  line L7 (16.9974, -11.5578) -> (21.2663, -10.004)
  line L8 (21.2663, 8.6473) -> (16.9974, 10.201)
  arc A7 (16.9974, 10.201) -> (16.3134, 10.3216) centre (16.3134, 8.3216) ccw
  arc A8 (16.3134, -11.6784) -> (16.9974, -11.5578) centre (16.3134, -9.6784) ccw
  arc A9 (-20.4178, 7.4216) -> (-22.4178, 5.4216) centre (-20.4178, 5.4216) ccw projected
  line L9 (-22.4178, 5.4216) -> (-22.4178, -6.7784) projected
  line L10 (-20.4178, -8.7784) -> (-20.5866, -8.7784) projected
  arc A10 (-19.8348, -9.0898) -> (-20.5866, -8.7784) centre (-20.5866, -9.8416) ccw projected
  line L11 (-19.8348, -9.0898) -> (-19.7292, -9.1954) projected
  arc A11 (-19.7292, -9.1954) -> (-16.149, -10.6784) centre (-16.149, -5.6152) ccw projected
  line L12 (-16.149, -10.6784) -> (12.3134, -10.6784) projected
  arc A12 (12.3134, -10.6784) -> (15.8936, -9.1954) centre (12.3134, -5.6152) ccw projected
  line L13 (15.8936, -9.1954) -> (15.9992, -9.0898) projected
  arc A13 (16.751, -8.7784) -> (15.9992, -9.0898) centre (16.751, -9.8416) ccw projected
  line L14 (16.751, -8.7784) -> (20.5822, -8.7784) projected
  arc A14 (20.5822, -8.7784) -> (22.5822, -6.7784) centre (20.5822, -6.7784) ccw projected
  line L15 (22.5822, -6.7784) -> (22.5822, 5.4216) projected
  arc A15 (22.5822, 5.4216) -> (20.5822, 7.4216) centre (20.5822, 5.4216) ccw projected
  line L16 (20.5822, 7.4216) -> (16.751, 7.4216) projected
  arc A16 (15.9992, 7.733) -> (16.751, 7.4216) centre (16.751, 8.4848) ccw projected
  line L17 (15.9992, 7.733) -> (15.8936, 7.8387) projected
  arc A17 (15.8936, 7.8387) -> (12.3134, 9.3216) centre (12.3134, 4.2584) ccw projected
  line L18 (12.3134, 9.3216) -> (-16.149, 9.3216) projected
  arc A18 (-16.149, 9.3216) -> (-19.7292, 7.8387) centre (-16.149, 4.2584) ccw projected
  line L19 (-19.7292, 7.8387) -> (-19.8348, 7.733) projected
  arc A19 (-20.5866, 7.4216) -> (-19.8348, 7.733) centre (-20.5866, 8.4848) ccw projected
  line L20 (-20.5866, 7.4216) -> (-20.4178, 7.4216) projected
  point P0 (0.0822, -11.6784)
  point P1 (22.5822, -0.6784)
  point P2 (-22.4178, -0.6784)
  point P3 (-22.4178, -6.7784)
  point P4 (22.5822, -6.7784)
  dimension "d16" = 2
  dimension "d19" = 2
  dimension "d20" = 4.2688
  dimension "d21" = 160
  dimension "d22" = 160
  dimension "d23" = 2
extrude "Extrusion4" add sketch "Sketch4" against normal blind 3 contours A0 L10 A10 L11 A11 L12 A12 L13 A13 L14 A14 L2 A1 L7 A8 L1 A5 L6 A6 L4 | L4 A3 L5 A4 L0 A7 L8 A2 L2 A15 L16 A16 L17 A17 L18 A18 L19 A19 L20 A9
sketch "Sketch5" plane through (0, 0, 0) normal (1, 0, 0) x (0, 1, 0)
  line L0 (0, 9.3216) -> (1.6, 9.3216) projected
  line L1 (1.1, 9.3216) -> (0.6, 8.8216)
  line L2 (0.6, 8.8216) -> (0.1, 9.3216)
  line L3 (0, -10.6784) -> (1.6, -10.6784) projected
  line L4 (1.1, -10.6784) -> (0.6, -10.1784)
  line L5 (0.6, -10.1784) -> (0.1, -10.6784)
  point P0 (0, 0)
  dimension "d26" = 0.5
  dimension "d27" = 0.5
  dimension "d28" = 0.5
  dimension "d29" = 0.5
extrude "Extrusion5" cut sketch "Sketch5" along normal mid plane 20
properties part number "Housing_Lower"
